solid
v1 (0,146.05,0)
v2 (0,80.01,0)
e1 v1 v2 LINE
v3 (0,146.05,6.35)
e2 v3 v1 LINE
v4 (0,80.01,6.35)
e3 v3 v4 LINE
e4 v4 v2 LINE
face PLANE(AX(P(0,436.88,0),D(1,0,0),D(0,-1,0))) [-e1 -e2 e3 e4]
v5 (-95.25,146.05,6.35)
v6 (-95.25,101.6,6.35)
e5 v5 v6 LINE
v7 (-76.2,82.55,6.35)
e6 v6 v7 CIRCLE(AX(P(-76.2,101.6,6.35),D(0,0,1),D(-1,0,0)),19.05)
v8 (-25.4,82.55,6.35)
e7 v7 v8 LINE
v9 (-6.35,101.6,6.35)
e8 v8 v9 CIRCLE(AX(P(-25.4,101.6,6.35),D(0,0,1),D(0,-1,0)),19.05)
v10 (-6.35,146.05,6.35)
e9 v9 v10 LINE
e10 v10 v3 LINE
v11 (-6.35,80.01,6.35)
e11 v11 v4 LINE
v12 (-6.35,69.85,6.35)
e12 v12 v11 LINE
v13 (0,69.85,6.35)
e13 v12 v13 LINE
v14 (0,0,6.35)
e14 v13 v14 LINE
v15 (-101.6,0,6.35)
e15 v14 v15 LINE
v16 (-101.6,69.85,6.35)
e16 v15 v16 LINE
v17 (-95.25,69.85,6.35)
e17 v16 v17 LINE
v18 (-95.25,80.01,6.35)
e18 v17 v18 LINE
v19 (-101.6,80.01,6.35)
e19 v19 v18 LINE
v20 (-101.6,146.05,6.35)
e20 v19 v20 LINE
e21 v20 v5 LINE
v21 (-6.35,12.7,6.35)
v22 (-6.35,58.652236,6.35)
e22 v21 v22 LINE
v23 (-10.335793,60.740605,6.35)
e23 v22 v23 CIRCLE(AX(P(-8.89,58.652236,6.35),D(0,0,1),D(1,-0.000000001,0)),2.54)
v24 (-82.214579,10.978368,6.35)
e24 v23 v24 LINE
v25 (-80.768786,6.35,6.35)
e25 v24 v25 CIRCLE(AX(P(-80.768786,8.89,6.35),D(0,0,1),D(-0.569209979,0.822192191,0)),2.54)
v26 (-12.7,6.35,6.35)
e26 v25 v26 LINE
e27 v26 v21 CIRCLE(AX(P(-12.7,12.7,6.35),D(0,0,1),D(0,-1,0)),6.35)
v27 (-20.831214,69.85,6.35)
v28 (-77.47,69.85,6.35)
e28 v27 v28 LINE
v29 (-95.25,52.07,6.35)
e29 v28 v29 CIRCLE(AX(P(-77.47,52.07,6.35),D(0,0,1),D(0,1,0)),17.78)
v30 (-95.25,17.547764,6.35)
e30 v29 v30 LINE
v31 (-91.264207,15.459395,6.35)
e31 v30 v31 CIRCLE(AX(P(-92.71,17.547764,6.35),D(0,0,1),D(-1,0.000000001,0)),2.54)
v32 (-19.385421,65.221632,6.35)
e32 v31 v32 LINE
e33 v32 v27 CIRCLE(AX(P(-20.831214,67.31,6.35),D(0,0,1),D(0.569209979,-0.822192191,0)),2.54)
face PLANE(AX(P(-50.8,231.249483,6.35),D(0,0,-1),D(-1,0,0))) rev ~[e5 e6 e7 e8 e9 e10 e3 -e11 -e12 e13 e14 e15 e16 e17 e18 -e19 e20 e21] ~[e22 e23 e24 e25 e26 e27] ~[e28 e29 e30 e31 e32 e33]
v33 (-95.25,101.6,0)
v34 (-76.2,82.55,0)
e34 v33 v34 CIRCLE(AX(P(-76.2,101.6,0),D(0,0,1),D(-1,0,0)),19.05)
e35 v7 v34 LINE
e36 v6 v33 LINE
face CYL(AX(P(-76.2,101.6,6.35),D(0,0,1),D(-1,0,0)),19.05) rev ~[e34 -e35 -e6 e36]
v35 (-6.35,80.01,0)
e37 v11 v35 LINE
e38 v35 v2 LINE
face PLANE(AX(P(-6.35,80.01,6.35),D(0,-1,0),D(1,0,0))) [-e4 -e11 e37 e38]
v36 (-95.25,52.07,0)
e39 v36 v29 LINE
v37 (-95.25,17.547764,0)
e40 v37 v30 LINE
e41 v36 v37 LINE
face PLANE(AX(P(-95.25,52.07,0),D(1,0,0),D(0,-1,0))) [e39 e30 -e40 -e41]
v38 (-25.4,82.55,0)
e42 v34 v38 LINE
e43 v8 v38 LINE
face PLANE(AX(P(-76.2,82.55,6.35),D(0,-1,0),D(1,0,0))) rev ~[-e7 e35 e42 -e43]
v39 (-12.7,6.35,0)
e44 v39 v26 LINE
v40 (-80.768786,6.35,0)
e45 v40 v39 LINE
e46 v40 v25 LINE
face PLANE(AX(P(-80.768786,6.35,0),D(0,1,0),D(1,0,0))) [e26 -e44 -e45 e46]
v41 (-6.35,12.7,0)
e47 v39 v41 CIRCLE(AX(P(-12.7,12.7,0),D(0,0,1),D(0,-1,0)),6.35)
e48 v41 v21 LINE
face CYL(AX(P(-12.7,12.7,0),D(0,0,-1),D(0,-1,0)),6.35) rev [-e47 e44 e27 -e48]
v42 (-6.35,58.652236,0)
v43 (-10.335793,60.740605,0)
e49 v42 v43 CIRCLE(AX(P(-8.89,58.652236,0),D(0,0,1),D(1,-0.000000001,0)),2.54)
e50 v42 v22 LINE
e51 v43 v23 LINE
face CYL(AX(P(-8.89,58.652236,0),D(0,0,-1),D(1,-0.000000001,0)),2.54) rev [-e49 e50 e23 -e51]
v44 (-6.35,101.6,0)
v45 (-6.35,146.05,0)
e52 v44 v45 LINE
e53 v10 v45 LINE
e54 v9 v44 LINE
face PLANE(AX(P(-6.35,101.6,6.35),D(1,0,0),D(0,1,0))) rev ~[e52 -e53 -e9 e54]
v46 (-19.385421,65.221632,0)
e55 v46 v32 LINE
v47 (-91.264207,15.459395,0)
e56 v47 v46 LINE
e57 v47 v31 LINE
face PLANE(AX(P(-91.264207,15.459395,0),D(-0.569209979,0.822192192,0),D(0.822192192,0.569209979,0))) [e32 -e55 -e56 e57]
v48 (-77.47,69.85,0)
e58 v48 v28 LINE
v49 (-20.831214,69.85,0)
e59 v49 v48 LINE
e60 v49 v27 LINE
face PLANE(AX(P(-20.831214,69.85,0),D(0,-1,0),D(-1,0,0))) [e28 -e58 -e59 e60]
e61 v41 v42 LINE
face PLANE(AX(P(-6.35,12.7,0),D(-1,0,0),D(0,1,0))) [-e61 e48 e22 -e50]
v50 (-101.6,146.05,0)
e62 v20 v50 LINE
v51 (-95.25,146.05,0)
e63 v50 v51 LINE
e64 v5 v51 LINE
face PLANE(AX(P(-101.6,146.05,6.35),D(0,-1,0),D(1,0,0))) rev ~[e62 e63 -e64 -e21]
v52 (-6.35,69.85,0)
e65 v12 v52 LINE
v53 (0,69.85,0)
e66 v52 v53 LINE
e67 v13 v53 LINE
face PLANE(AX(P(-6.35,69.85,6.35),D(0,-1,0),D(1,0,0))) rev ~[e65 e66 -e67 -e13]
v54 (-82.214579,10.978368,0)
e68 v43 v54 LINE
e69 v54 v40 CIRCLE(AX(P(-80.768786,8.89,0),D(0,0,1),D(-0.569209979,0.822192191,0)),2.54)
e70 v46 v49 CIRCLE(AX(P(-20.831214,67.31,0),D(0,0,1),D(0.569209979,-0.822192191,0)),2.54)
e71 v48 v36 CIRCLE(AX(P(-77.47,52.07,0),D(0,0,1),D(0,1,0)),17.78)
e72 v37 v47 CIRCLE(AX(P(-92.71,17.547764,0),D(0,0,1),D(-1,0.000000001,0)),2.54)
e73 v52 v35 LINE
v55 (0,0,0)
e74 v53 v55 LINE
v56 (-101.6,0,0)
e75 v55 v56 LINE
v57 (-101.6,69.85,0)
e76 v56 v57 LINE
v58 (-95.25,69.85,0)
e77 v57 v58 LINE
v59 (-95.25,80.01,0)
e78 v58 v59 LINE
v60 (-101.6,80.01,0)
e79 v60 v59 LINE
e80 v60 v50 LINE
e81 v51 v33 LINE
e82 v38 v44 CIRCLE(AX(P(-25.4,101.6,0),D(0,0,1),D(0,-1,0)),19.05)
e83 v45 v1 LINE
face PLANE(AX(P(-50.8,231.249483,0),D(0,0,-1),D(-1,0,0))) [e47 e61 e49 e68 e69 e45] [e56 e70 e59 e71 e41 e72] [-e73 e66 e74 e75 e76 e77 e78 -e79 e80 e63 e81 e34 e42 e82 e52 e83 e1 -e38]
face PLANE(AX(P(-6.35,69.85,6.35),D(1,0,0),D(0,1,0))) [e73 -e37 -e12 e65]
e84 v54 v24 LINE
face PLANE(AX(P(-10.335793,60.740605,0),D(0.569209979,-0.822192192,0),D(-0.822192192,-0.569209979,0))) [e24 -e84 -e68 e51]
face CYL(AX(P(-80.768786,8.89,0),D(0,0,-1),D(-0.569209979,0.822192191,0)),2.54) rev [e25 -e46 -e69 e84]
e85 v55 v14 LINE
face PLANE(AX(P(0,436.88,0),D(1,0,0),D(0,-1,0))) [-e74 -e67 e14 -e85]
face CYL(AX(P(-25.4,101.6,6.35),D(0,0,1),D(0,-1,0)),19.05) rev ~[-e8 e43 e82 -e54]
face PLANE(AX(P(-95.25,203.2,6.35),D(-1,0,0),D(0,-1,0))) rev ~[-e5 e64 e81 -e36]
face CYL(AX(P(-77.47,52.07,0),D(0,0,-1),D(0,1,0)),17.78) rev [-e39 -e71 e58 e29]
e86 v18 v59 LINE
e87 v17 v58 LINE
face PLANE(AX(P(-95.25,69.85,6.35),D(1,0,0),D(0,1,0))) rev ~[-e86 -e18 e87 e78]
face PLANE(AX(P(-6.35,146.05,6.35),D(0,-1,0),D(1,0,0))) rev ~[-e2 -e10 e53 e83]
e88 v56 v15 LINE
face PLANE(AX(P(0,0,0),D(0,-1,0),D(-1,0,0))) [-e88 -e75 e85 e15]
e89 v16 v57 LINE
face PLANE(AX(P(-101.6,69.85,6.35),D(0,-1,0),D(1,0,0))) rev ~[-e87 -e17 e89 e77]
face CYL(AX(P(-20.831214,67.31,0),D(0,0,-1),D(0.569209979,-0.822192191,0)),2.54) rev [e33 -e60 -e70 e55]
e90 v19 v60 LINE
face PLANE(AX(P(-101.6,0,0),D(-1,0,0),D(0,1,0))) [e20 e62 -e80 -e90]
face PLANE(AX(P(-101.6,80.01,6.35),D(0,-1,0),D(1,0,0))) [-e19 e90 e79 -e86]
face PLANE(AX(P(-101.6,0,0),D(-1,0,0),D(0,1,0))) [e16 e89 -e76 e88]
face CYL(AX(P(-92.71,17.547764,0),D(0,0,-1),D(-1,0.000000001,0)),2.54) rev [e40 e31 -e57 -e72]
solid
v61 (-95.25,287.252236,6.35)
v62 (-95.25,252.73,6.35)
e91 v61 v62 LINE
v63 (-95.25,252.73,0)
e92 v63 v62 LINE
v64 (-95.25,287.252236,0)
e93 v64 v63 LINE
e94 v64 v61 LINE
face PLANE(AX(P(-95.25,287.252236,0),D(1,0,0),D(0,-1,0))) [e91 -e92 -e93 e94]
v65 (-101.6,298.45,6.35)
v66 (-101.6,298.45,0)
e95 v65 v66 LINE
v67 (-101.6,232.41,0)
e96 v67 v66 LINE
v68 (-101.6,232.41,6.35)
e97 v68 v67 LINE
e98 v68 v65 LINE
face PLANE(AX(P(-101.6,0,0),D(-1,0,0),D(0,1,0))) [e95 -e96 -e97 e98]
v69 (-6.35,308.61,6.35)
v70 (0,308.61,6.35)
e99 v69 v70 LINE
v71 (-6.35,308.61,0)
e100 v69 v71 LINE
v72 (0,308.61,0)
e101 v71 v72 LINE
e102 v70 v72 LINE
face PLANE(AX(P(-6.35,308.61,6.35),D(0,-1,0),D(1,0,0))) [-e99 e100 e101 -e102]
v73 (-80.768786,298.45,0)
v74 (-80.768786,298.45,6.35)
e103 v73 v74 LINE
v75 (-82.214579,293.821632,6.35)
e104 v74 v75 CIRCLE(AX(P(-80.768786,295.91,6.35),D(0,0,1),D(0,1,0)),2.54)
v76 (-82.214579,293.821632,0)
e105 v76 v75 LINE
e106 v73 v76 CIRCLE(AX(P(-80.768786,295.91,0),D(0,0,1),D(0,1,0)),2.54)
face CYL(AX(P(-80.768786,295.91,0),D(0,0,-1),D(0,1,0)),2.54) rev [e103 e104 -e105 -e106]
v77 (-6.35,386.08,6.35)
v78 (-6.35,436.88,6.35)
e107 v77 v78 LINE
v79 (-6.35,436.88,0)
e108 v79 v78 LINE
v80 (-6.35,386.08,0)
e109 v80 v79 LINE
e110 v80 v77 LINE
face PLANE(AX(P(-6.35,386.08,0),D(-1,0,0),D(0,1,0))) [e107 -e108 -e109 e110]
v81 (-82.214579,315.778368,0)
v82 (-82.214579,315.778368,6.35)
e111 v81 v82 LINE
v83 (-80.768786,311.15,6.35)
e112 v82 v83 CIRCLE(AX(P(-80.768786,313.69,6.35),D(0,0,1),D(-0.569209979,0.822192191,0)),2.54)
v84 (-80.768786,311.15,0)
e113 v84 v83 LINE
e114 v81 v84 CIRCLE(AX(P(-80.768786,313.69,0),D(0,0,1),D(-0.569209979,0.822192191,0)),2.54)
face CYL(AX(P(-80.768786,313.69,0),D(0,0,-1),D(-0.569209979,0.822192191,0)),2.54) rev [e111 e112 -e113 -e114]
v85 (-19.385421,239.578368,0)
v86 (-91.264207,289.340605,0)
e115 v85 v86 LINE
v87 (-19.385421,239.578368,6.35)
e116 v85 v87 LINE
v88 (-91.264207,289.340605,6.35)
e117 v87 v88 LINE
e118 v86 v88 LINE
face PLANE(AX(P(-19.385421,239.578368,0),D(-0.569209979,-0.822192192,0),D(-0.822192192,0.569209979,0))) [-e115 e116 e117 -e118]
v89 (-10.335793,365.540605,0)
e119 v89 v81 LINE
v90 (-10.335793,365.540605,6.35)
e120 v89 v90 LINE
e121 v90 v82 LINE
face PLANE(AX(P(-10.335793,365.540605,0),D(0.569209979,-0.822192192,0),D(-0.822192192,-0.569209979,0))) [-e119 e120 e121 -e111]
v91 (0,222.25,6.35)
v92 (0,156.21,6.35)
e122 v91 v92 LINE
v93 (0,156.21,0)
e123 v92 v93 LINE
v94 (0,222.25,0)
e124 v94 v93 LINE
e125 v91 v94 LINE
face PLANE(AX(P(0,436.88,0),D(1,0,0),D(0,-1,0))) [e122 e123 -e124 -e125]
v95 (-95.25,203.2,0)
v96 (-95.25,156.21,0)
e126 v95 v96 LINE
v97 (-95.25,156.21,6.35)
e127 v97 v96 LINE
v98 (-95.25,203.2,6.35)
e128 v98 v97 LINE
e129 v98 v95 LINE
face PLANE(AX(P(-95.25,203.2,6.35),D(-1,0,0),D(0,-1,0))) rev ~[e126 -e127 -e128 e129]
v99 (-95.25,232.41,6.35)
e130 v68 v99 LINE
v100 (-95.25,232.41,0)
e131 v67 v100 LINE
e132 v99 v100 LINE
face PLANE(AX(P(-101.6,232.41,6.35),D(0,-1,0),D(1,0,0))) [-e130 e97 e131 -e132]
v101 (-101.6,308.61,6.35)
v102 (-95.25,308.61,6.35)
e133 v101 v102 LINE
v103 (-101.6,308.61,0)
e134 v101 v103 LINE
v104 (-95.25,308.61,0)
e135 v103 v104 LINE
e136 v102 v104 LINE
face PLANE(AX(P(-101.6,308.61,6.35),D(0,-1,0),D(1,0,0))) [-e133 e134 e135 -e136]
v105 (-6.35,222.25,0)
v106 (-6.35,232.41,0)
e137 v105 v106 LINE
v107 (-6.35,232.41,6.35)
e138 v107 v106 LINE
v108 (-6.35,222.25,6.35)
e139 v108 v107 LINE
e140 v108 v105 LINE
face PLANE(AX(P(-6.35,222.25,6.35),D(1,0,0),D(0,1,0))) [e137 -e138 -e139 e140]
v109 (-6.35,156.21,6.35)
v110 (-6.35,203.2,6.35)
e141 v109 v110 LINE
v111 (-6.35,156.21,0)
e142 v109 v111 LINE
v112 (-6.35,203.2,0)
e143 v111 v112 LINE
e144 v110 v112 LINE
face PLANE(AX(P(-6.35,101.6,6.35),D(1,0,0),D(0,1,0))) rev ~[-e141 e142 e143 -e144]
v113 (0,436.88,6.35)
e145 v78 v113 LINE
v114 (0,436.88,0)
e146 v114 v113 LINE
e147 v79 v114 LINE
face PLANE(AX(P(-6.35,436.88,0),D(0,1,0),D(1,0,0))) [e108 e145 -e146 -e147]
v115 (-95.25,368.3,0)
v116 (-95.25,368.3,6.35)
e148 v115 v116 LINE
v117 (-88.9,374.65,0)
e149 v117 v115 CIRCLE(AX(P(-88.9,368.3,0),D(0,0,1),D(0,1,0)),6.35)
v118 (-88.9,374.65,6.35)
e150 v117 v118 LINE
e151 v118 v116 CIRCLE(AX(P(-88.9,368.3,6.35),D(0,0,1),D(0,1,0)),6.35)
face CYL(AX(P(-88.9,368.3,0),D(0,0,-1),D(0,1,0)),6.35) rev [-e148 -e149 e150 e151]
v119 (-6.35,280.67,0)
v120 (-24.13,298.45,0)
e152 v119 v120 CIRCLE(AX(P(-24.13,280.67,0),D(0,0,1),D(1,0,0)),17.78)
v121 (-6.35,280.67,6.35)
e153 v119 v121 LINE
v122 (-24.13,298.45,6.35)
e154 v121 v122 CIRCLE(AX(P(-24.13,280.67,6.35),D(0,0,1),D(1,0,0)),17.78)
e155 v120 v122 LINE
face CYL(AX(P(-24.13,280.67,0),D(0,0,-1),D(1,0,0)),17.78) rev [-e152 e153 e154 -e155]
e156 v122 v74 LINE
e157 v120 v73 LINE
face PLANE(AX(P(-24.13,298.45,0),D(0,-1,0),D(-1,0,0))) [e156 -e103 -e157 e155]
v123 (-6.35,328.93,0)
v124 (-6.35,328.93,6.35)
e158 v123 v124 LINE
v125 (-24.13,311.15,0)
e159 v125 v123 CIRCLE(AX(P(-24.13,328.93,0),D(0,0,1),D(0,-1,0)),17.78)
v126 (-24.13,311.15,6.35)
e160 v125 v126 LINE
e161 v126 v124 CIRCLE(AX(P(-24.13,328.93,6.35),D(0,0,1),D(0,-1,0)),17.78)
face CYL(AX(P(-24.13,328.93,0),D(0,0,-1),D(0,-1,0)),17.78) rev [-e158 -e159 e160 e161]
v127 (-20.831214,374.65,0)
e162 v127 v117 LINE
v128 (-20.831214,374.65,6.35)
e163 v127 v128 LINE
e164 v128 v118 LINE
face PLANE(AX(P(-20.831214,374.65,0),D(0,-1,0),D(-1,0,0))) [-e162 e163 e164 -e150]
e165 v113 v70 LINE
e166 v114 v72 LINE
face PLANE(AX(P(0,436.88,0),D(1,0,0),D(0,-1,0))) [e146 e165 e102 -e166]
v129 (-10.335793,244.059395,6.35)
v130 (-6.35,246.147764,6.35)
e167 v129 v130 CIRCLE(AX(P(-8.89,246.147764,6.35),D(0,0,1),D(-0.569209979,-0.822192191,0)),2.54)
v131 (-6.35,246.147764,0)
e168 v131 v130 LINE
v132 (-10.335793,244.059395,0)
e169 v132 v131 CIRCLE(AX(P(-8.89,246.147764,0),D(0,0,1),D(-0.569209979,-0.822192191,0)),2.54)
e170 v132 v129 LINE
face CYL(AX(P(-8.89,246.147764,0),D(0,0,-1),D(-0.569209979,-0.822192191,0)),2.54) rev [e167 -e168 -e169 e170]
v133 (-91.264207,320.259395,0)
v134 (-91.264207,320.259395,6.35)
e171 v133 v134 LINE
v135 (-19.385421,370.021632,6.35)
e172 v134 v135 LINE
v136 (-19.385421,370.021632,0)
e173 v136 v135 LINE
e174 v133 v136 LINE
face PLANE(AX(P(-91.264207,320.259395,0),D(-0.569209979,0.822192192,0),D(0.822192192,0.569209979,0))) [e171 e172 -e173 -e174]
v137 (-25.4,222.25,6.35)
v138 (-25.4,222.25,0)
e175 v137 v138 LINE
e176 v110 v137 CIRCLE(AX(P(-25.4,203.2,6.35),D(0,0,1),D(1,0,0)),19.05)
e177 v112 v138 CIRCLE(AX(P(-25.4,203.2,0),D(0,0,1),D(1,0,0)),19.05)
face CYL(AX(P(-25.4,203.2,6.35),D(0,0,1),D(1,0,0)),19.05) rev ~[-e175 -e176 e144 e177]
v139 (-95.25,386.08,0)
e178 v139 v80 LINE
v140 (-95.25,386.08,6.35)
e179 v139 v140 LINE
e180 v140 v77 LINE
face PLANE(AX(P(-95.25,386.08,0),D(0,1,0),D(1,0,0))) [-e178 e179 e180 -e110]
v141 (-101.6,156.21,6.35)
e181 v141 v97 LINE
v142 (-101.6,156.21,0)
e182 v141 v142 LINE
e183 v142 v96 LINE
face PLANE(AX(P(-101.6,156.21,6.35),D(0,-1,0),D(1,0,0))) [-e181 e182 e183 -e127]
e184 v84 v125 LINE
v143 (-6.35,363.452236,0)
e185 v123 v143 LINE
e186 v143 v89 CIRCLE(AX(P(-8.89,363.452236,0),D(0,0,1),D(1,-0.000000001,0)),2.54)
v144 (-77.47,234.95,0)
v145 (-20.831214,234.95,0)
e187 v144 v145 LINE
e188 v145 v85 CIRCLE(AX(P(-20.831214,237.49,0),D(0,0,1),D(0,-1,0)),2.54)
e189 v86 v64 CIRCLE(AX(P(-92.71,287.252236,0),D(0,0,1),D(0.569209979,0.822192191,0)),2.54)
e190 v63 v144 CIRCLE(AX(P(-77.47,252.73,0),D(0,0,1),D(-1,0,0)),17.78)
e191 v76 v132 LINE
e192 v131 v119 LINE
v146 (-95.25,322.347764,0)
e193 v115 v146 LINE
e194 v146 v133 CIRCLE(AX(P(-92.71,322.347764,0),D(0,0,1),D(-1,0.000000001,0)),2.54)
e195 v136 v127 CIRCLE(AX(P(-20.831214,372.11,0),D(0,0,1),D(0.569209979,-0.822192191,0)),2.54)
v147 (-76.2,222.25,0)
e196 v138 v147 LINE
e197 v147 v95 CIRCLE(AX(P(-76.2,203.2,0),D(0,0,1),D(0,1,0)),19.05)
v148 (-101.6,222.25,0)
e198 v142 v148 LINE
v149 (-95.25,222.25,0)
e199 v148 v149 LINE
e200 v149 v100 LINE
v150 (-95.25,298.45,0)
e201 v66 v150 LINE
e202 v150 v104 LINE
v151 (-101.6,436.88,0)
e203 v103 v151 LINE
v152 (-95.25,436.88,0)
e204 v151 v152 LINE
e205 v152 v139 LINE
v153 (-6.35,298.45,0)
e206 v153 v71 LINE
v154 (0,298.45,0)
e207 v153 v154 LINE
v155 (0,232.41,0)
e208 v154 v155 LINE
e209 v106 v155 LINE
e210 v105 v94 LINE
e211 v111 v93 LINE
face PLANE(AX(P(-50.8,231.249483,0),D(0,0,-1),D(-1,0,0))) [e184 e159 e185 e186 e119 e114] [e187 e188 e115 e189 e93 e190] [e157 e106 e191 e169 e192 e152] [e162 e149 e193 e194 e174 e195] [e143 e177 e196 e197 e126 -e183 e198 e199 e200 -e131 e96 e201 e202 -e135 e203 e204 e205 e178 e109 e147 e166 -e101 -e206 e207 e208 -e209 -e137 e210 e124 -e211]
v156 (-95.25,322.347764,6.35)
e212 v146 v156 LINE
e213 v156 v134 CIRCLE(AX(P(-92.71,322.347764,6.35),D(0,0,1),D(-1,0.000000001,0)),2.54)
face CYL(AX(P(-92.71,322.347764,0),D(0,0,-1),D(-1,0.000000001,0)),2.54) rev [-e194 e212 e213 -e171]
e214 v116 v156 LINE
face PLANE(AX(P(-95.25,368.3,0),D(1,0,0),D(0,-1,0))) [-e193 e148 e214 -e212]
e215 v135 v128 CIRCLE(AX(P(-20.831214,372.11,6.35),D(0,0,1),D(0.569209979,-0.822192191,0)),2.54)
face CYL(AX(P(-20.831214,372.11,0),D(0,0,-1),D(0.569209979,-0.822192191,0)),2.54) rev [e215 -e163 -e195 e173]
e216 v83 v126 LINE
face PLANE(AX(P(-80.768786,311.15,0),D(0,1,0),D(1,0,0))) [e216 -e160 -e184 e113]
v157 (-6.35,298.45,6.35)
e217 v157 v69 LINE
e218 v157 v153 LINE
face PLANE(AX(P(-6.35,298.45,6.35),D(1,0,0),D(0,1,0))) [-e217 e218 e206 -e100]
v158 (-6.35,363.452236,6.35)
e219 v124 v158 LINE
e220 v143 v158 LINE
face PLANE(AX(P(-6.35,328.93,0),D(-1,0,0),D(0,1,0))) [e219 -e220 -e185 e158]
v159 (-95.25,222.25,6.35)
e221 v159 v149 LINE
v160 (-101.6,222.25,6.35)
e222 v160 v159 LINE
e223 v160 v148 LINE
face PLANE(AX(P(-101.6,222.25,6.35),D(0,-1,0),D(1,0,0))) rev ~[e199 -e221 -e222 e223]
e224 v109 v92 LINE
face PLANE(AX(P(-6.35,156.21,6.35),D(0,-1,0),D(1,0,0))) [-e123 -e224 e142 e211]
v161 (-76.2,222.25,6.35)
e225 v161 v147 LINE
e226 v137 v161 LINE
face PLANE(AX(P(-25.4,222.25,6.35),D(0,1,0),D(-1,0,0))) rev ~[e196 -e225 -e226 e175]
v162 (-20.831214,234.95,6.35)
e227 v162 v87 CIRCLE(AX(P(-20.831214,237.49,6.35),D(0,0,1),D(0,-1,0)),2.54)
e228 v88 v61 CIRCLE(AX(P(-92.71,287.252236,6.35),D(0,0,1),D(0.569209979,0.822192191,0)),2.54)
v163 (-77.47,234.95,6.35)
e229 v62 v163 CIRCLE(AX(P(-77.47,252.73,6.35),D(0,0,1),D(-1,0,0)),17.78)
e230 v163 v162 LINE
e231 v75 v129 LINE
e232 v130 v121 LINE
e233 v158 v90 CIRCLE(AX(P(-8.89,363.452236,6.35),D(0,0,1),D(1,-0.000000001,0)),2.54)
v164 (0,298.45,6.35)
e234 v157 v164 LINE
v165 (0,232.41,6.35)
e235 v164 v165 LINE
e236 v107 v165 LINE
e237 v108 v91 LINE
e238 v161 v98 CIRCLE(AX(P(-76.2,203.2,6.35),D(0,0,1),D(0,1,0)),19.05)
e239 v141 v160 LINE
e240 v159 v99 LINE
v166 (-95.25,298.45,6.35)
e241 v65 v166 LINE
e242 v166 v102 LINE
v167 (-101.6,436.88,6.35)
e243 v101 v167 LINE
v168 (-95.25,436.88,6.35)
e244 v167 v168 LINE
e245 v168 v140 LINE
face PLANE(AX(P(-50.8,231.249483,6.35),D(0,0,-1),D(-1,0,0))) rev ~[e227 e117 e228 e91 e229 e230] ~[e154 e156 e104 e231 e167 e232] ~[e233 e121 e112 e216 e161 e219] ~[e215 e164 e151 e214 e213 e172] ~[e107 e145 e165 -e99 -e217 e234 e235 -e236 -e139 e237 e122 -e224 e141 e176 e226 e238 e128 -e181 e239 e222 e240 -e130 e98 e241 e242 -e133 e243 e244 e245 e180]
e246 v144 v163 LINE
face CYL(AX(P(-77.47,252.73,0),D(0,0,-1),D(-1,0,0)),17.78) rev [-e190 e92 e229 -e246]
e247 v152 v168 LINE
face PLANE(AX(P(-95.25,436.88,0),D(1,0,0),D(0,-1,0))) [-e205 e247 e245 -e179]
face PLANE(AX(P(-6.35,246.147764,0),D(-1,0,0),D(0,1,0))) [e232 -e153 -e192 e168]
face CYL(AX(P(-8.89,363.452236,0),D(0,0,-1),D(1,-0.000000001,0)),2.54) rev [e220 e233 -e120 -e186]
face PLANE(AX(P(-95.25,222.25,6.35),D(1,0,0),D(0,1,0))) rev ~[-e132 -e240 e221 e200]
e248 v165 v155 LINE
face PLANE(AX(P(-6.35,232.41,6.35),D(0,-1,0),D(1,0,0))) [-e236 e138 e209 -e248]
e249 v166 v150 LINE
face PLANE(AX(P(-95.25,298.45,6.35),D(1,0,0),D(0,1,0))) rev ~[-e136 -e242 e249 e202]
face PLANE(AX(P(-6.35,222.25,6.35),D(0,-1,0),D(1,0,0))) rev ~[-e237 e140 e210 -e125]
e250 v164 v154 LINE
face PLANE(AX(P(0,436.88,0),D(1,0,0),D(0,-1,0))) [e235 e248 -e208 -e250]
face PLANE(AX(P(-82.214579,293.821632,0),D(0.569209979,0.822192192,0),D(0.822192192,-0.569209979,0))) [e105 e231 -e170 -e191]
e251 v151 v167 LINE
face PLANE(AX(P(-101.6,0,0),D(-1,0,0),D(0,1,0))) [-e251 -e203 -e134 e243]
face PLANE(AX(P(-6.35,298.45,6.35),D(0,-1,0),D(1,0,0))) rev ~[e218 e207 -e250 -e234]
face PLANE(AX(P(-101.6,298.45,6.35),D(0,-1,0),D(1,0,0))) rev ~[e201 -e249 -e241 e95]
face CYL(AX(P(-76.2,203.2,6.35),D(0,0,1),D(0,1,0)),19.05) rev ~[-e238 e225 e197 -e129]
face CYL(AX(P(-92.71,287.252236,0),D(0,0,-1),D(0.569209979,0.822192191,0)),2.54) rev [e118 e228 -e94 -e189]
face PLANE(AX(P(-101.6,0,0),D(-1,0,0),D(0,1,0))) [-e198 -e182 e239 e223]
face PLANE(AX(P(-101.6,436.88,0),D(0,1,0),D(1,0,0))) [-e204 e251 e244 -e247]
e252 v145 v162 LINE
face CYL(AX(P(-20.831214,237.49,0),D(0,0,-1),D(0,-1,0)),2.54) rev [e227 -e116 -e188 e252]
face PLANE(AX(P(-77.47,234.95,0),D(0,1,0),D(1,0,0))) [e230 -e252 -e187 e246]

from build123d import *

# Parameters (mm, degrees)
BOSS_EXTRUDE1_DEPTH = 6.35
CUT_EXTRUDE1_DEPTH  = 6.35
SKETCH2_W           = 6.35
SKETCH2_H           = 10.16
CUT_EXTRUDE2_DEPTH  = 6.35


with BuildPart() as part:
    # Model → Boss-Extrude1 (new body)
    with BuildSketch(Plane.XY):
        Polygon((-95.25, 386.08), (-6.35, 386.08), (-6.35, 436.88), (0, 436.88), (0, 0), (-101.6, 0), (-101.6, 436.88), (-95.25, 436.88), align=None)
        with BuildLine():
            Line((-80.76878597, 311.15), (-24.13, 311.15))
            ThreePointArc((-24.13, 311.15), (-11.557641431, 316.357641431), (-6.35, 328.93))
            Line((-6.35, 328.93), (-6.35, 363.45223644))
            ThreePointArc((-6.35, 363.45223644), (-7.711169032, 365.702115893), (-10.335793346, 365.540604607))
            Line((-10.335793346, 365.540604607), (-82.214579316, 315.778368167))
            ThreePointArc((-82.214579316, 315.778368167), (-83.193250358, 312.932654354), (-80.76878597, 311.15))
        make_face(mode=Mode.SUBTRACT)
        with BuildLine():
            Line((-95.25, 287.25223644), (-95.25, 252.73))
            ThreePointArc((-95.25, 252.73), (-90.042358569, 240.157641431), (-77.47, 234.95))
            Line((-77.47, 234.95), (-20.83121403, 234.95))
            ThreePointArc((-20.83121403, 234.95), (-18.406749642, 236.732654354), (-19.385420684, 239.578368167))
            Line((-19.385420684, 239.578368167), (-91.264206654, 289.340604607))
            ThreePointArc((-91.264206654, 289.340604607), (-93.888830968, 289.502115893), (-95.25, 287.25223644))
        make_face(mode=Mode.SUBTRACT)
        with BuildLine():
            Line((-82.214579316, 293.821631833), (-10.335793346, 244.059395393))
            ThreePointArc((-10.335793346, 244.059395393), (-7.711169032, 243.897884107), (-6.35, 246.14776356))
            Line((-6.35, 246.14776356), (-6.35, 280.67))
            ThreePointArc((-6.35, 280.67), (-11.557641431, 293.242358569), (-24.13, 298.45))
            Line((-24.13, 298.45), (-80.76878597, 298.45))
            ThreePointArc((-80.76878597, 298.45), (-83.193250358, 296.667345646), (-82.214579316, 293.821631833))
        make_face(mode=Mode.SUBTRACT)
        with BuildLine():
            Line((-80.76878597, 6.35), (-12.7, 6.35))
            ThreePointArc((-12.7, 6.35), (-8.209871939, 8.209871939), (-6.35, 12.7))
            Line((-6.35, 12.7), (-6.35, 58.65223644))
            ThreePointArc((-6.35, 58.65223644), (-7.711169032, 60.902115893), (-10.335793346, 60.740604607))
            Line((-10.335793346, 60.740604607), (-82.214579316, 10.978368167))
            ThreePointArc((-82.214579316, 10.978368167), (-83.193250358, 8.132654354), (-80.76878597, 6.35))
        make_face(mode=Mode.SUBTRACT)
        with BuildLine():
            Line((-20.83121403, 69.85), (-77.47, 69.85))
            ThreePointArc((-77.47, 69.85), (-90.042358569, 64.642358569), (-95.25, 52.07))
            Line((-95.25, 52.07), (-95.25, 17.54776356))
            ThreePointArc((-95.25, 17.54776356), (-93.888830968, 15.297884107), (-91.264206654, 15.459395393))
            Line((-91.264206654, 15.459395393), (-19.385420684, 65.221631833))
            ThreePointArc((-19.385420684, 65.221631833), (-18.406749642, 68.067345646), (-20.83121403, 69.85))
        make_face(mode=Mode.SUBTRACT)
        with BuildLine():
            Line((-20.83121403, 374.65), (-88.9, 374.65))
            ThreePointArc((-88.9, 374.65), (-93.390128061, 372.790128061), (-95.25, 368.3))
            Line((-95.25, 368.3), (-95.25, 322.34776356))
            ThreePointArc((-95.25, 322.34776356), (-93.888830968, 320.097884107), (-91.264206654, 320.259395393))
            Line((-91.264206654, 320.259395393), (-19.385420684, 370.021631833))
            ThreePointArc((-19.385420684, 370.021631833), (-18.406749642, 372.867345646), (-20.83121403, 374.65))
        make_face(mode=Mode.SUBTRACT)
    extrude(amount=BOSS_EXTRUDE1_DEPTH)

    # Sketch1 → Cut-Extrude1 (cut)
    with BuildSketch(Plane.XY.offset(6.35)):
        with BuildLine():
            Line((-95.25, 203.2), (-95.25, 101.6))
            ThreePointArc((-95.25, 101.6), (-89.670384182, 88.129615818), (-76.2, 82.55))
            Line((-76.2, 82.55), (-25.4, 82.55))
            ThreePointArc((-25.4, 82.55), (-11.929615818, 88.129615818), (-6.35, 101.6))
            Line((-6.35, 101.6), (-6.35, 203.2))
            ThreePointArc((-6.35, 203.2), (-11.929615818, 216.670384182), (-25.4, 222.25))
            Line((-25.4, 222.25), (-76.2, 222.25))
            ThreePointArc((-76.2, 222.25), (-89.670384182, 216.670384182), (-95.25, 203.2))
        make_face()
    extrude(amount=-CUT_EXTRUDE1_DEPTH, mode=Mode.SUBTRACT)

    # Sketch2 → Cut-Extrude2 (cut)
    with BuildSketch(Plane.XY.offset(6.35)):
        with Locations((-98.425, 74.93)):
            Rectangle(SKETCH2_W, SKETCH2_H)
        with Locations((-98.425, 151.13)):
            Rectangle(SKETCH2_W, SKETCH2_H)
        with Locations((-98.425, 227.33)):
            Rectangle(SKETCH2_W, SKETCH2_H)
        with Locations((-98.425, 303.53)):
            Rectangle(SKETCH2_W, SKETCH2_H)
        with Locations((-3.175, 303.53)):
            Rectangle(SKETCH2_W, SKETCH2_H)
        with Locations((-3.175, 227.33)):
            Rectangle(SKETCH2_W, SKETCH2_H)
        with Locations((-3.175, 151.13)):
            Rectangle(SKETCH2_W, SKETCH2_H)
        with Locations((-3.175, 74.93)):
            Rectangle(SKETCH2_W, SKETCH2_H)
    extrude(amount=-CUT_EXTRUDE2_DEPTH, mode=Mode.SUBTRACT)


with BuildPart() as cut_extrude2_piece_1:
    # of the separate pieces the step leaves, piece 1, a body of its own (cut_extrude2_pieces)
    add(part.part.solids().sort_by_distance((-95.25, 386.08, 0))[0])


with BuildPart() as cut_extrude2_piece_2:
    # of the separate pieces the step leaves, piece 2, a body of its own (cut_extrude2_pieces)
    add(part.part.solids().sort_by_distance((-101.6, 80.01, 0))[0])


solid = Compound([cut_extrude2_piece_1.part, cut_extrude2_piece_2.part])
